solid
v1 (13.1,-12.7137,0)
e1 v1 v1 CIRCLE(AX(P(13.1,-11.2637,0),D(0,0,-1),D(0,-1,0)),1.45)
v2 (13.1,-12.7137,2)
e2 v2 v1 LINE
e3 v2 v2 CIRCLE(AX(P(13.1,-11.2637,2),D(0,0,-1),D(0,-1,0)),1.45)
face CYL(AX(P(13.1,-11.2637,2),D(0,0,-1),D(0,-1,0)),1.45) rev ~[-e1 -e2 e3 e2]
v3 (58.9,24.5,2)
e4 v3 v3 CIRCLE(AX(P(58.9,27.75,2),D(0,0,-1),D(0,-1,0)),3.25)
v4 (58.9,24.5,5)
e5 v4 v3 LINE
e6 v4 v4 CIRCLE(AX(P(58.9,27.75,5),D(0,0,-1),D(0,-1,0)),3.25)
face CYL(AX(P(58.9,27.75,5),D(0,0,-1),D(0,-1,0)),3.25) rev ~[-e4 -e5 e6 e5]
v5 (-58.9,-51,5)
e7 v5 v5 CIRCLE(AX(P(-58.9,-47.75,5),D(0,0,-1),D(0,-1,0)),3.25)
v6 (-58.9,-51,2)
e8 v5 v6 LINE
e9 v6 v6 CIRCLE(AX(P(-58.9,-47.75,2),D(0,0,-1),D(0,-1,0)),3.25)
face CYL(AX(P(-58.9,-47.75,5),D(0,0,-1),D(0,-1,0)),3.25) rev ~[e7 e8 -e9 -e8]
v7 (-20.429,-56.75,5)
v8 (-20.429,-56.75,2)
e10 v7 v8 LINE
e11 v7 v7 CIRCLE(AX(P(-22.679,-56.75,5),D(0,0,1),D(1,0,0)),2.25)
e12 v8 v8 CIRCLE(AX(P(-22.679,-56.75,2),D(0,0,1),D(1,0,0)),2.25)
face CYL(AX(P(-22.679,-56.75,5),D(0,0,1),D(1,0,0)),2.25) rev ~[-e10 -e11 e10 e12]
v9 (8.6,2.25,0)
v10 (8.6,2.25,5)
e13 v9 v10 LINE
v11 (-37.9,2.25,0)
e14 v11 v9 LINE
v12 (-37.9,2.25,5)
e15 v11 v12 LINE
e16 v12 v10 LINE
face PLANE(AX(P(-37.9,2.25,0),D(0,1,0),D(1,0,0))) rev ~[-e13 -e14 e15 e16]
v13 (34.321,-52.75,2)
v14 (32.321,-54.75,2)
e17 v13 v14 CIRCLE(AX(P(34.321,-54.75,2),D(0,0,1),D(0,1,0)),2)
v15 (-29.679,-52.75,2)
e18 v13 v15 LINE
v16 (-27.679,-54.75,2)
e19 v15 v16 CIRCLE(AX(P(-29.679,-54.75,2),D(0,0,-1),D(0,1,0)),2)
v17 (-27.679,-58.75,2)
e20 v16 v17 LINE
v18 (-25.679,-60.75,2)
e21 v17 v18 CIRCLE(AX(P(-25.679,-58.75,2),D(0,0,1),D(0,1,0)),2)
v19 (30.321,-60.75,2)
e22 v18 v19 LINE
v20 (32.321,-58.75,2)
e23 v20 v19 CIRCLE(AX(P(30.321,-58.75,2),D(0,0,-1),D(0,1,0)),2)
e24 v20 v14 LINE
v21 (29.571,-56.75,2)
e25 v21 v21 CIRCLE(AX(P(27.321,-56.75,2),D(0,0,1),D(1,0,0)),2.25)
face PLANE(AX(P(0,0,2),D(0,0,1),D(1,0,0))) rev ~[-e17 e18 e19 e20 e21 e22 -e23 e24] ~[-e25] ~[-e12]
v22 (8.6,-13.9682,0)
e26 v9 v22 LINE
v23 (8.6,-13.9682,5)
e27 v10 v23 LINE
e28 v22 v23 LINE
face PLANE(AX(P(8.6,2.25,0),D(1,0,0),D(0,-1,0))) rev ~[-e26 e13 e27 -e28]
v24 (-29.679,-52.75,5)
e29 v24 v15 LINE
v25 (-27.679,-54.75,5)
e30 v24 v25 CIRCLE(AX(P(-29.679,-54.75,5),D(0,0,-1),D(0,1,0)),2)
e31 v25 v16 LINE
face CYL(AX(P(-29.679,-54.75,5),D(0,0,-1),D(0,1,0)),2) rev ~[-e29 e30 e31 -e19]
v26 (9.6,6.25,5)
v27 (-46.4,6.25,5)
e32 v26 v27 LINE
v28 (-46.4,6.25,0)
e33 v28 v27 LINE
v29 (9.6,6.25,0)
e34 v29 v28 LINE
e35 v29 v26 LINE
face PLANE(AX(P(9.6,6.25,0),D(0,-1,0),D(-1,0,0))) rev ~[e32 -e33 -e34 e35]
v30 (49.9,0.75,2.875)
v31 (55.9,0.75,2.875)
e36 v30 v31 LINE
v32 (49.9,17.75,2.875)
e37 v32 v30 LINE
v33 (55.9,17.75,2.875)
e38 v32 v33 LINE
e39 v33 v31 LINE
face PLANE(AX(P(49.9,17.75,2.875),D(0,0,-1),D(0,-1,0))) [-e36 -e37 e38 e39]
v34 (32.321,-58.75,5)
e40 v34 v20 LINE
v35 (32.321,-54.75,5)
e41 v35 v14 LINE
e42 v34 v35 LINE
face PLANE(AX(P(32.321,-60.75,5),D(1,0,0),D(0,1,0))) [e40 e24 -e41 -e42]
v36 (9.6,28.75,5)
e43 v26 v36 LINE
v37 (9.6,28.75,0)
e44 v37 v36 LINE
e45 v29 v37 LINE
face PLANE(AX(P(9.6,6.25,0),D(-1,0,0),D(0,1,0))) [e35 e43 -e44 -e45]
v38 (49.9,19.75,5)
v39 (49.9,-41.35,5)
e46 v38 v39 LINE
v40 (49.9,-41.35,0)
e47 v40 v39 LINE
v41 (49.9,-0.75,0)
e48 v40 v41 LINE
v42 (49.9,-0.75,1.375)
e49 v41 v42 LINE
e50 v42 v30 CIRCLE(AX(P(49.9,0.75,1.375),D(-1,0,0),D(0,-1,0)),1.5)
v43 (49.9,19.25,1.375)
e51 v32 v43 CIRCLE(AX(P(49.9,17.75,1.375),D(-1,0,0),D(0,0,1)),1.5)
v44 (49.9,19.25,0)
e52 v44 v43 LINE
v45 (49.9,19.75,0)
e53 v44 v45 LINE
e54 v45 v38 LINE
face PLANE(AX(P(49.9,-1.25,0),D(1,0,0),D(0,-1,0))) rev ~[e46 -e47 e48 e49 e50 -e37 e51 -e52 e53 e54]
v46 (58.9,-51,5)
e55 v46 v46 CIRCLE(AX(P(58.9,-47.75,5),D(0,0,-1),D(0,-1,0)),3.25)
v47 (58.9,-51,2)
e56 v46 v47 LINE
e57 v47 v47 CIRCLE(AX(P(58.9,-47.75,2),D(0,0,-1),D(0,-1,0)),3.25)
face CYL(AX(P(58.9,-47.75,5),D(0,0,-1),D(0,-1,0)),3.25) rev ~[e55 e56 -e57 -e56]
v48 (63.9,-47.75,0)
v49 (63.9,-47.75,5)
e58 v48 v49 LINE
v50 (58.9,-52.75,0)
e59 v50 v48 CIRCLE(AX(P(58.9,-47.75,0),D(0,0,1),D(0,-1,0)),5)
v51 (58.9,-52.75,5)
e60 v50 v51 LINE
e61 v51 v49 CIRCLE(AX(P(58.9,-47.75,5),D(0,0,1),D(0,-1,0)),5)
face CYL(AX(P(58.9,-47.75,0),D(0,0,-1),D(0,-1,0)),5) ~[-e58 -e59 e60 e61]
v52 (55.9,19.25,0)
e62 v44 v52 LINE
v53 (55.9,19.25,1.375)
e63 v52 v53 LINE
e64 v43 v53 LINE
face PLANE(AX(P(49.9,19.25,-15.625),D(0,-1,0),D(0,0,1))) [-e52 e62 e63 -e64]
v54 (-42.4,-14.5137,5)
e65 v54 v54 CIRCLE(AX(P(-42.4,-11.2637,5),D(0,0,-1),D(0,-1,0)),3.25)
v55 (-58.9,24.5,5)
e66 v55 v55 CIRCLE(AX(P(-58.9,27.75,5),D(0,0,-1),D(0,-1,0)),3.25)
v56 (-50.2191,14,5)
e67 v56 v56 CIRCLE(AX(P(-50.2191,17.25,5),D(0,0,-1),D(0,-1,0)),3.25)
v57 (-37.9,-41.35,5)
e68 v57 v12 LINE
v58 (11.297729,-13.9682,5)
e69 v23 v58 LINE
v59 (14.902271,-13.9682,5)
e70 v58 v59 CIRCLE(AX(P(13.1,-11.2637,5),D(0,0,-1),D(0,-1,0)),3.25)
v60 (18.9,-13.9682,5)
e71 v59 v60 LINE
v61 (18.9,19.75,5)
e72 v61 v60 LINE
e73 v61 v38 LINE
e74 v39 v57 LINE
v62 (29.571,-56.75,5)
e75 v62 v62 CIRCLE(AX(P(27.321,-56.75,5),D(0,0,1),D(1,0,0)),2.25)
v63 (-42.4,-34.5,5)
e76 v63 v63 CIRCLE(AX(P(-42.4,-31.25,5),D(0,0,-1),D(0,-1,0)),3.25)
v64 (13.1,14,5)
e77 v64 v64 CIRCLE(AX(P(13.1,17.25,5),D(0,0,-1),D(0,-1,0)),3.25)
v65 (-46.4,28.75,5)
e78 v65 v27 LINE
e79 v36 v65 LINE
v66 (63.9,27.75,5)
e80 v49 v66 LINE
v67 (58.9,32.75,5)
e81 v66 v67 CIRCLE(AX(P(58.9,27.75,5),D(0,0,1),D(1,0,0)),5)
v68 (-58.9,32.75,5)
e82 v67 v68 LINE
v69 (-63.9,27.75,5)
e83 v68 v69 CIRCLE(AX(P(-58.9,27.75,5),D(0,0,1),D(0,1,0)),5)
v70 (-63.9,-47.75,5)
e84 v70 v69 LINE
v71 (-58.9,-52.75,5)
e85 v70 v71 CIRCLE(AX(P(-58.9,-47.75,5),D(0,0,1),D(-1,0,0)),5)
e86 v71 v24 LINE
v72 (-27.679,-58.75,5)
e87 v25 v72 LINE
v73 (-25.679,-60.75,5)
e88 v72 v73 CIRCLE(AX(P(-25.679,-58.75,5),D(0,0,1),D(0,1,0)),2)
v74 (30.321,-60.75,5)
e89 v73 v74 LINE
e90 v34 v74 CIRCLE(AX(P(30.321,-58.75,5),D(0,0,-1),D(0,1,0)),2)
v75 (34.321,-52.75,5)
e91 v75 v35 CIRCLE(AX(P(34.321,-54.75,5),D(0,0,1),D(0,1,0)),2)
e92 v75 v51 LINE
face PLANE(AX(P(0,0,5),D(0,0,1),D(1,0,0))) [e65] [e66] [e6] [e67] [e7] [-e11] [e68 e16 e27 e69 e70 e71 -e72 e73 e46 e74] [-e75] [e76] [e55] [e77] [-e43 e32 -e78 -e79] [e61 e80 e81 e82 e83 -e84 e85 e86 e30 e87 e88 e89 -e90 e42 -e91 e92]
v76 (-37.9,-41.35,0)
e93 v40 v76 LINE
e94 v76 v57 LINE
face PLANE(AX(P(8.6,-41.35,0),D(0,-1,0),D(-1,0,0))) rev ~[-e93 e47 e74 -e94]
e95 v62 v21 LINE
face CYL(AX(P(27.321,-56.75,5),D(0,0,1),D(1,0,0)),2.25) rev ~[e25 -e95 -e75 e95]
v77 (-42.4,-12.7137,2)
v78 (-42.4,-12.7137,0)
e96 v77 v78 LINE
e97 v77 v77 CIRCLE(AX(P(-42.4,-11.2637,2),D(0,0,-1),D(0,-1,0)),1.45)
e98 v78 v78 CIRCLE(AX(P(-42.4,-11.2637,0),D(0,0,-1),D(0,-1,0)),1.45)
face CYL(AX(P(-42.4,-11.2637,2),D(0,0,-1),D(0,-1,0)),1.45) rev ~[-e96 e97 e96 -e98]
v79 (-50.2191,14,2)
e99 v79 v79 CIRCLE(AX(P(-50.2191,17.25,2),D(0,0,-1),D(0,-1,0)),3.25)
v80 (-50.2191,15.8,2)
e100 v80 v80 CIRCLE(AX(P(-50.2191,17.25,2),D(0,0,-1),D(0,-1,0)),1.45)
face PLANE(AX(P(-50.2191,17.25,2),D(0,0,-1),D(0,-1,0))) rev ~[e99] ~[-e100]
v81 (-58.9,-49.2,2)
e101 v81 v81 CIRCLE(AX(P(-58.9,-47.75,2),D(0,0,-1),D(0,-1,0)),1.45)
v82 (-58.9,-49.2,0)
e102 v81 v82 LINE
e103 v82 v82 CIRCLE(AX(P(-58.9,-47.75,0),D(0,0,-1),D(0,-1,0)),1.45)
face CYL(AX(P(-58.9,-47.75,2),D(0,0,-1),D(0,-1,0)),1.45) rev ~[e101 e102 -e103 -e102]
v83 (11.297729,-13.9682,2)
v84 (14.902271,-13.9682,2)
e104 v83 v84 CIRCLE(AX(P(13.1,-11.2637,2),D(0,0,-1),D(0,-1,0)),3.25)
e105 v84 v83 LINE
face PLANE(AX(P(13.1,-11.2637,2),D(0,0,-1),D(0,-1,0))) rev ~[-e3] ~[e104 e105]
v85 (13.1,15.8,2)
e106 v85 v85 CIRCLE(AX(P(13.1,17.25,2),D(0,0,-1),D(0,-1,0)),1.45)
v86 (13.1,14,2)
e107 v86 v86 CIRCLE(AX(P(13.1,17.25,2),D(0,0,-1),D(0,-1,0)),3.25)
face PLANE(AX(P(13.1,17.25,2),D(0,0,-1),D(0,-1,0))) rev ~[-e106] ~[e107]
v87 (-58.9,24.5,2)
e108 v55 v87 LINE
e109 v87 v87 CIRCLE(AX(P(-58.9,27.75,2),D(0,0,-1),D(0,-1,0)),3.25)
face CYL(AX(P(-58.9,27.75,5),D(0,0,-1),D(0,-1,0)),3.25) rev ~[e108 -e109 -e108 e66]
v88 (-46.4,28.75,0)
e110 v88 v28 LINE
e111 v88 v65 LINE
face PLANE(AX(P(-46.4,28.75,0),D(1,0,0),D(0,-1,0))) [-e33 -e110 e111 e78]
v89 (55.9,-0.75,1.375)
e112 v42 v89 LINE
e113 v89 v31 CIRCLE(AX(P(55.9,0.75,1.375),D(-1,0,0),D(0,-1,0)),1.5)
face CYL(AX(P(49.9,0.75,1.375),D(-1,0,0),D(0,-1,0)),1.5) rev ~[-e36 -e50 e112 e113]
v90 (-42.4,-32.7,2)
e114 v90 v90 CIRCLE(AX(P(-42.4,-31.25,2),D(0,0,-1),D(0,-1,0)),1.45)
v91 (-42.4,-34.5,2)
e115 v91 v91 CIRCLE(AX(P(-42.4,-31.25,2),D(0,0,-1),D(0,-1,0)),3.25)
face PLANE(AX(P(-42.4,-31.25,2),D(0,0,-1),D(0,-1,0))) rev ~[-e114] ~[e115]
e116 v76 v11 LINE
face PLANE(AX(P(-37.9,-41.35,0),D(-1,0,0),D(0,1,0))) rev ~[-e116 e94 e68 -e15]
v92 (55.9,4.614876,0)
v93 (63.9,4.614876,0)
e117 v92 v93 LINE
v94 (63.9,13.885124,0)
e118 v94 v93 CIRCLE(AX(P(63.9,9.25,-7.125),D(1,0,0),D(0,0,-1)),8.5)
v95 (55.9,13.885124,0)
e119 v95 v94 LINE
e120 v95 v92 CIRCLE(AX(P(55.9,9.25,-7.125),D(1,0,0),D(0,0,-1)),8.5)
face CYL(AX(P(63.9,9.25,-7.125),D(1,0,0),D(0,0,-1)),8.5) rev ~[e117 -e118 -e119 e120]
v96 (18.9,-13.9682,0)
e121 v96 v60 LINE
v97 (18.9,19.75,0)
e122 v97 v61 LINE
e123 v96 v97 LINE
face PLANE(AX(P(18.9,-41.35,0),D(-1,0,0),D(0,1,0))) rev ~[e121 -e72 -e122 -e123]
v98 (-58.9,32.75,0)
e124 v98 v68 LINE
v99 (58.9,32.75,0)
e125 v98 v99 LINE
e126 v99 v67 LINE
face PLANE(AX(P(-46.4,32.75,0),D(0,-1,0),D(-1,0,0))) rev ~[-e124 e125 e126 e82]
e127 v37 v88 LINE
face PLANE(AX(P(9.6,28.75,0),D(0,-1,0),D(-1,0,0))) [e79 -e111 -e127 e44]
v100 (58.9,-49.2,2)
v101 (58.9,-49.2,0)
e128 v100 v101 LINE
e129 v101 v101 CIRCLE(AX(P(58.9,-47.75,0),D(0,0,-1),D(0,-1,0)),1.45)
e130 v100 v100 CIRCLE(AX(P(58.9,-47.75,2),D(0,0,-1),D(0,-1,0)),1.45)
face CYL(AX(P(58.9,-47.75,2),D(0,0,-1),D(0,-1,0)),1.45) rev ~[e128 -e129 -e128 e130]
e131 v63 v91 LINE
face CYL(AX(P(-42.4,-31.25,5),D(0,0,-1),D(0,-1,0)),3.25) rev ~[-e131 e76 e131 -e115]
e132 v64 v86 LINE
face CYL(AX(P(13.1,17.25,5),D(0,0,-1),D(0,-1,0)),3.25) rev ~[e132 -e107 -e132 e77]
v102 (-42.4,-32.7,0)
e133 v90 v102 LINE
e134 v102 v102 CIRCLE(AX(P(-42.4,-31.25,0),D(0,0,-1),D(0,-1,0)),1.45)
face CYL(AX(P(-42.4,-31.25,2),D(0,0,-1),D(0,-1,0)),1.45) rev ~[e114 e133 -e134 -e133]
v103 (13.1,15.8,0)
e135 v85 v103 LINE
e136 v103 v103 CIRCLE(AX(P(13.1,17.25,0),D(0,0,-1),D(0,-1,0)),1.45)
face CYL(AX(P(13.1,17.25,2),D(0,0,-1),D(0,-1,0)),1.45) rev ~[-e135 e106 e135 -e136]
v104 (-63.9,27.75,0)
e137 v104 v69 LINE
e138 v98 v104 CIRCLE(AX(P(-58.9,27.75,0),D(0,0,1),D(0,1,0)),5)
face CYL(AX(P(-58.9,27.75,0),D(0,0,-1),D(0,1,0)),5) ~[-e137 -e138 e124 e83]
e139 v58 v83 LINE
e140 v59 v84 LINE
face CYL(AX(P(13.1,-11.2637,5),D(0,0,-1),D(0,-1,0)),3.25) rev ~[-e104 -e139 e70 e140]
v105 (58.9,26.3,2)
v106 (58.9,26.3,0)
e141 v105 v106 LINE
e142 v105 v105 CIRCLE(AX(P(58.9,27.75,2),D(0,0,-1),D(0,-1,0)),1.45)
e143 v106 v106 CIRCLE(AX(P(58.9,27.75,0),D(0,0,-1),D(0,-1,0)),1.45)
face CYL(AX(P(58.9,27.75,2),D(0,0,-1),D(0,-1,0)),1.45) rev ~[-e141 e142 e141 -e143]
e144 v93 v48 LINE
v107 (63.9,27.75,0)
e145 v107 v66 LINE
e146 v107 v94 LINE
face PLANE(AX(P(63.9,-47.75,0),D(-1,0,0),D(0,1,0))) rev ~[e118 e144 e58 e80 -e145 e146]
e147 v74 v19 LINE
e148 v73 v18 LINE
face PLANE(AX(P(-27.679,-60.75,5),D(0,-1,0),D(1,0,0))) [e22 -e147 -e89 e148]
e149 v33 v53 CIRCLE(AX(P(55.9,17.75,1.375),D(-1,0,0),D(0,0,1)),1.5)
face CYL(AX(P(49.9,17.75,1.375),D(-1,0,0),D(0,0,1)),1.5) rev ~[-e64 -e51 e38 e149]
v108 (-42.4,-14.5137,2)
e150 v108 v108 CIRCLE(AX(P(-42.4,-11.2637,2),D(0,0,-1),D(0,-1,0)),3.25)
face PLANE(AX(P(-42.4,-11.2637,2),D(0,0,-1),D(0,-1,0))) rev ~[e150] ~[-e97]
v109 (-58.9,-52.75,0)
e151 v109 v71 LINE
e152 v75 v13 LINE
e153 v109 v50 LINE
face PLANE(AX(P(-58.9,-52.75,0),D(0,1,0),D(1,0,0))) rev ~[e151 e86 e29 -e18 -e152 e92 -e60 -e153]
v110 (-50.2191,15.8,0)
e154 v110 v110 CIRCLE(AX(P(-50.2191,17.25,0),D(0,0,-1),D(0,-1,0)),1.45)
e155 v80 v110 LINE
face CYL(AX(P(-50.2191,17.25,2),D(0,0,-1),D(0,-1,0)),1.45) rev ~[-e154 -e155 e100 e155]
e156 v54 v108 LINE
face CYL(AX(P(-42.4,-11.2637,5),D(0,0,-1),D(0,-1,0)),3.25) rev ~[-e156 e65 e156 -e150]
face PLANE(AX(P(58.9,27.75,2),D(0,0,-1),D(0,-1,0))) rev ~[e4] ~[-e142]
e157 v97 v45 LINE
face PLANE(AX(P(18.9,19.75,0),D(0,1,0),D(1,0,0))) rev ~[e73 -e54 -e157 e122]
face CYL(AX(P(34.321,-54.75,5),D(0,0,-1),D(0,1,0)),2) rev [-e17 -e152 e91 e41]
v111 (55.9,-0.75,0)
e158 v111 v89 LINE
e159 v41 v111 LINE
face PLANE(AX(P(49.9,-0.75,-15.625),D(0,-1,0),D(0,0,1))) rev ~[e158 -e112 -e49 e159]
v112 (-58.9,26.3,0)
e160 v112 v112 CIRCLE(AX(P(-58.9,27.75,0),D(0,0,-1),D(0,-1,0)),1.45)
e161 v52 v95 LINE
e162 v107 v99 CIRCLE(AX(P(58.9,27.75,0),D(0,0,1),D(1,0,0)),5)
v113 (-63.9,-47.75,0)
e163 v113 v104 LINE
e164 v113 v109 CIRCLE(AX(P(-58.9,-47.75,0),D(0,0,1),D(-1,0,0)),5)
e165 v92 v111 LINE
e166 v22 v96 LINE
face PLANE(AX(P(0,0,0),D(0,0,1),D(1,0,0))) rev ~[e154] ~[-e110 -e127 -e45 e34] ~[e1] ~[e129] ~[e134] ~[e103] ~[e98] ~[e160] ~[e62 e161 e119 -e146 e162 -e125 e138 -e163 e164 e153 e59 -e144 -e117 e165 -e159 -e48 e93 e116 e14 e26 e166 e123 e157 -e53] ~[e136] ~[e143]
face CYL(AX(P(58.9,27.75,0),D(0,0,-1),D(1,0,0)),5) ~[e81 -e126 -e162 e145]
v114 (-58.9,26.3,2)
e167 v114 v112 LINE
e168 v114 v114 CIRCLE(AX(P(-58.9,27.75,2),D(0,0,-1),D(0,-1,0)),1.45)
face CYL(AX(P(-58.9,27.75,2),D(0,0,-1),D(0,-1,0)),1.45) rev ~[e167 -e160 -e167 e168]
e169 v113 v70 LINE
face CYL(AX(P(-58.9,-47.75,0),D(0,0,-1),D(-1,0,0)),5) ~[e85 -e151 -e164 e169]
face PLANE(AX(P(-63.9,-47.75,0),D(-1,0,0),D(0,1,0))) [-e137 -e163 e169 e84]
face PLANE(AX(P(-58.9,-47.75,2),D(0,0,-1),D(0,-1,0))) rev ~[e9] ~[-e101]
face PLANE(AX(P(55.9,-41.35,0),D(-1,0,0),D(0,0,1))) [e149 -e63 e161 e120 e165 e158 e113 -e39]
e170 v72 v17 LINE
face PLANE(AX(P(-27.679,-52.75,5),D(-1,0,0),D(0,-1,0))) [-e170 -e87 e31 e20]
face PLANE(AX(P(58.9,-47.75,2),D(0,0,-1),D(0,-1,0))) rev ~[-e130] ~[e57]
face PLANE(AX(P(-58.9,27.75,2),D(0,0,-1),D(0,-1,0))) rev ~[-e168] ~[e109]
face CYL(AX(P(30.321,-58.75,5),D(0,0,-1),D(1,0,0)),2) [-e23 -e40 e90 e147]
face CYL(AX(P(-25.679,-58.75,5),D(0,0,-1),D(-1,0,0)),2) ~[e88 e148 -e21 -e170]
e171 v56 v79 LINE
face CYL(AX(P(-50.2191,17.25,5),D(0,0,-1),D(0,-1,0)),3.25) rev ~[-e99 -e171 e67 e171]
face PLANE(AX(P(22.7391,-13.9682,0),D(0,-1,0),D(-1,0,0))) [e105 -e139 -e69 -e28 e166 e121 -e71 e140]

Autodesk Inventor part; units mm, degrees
ref_plane "YZ Plane" through (0, 0, 0) normal (1, 0, 0) x (0, 1, 0)
ref_plane "XZ Plane" through (0, 0, 0) normal (0, 1, 0) x (-1, 0, 0)
ref_plane "Arbeitsebene1" through (0, 0, 0) normal (0, 0, 1) x (1, 0, 0)
sketch "Skizze1" plane through (0, 0, 0) normal (0, 0, 1) x (1, 0, 0)
  line L0 (8.6, 2.25) -> (8.6, -41.35) projected
  line L1 (8.6, -41.35) -> (-37.9, -41.35) projected
  line L2 (-37.9, -41.35) -> (-37.9, 2.25) projected
  line L3 (-37.9, 2.25) -> (8.6, 2.25) projected
  line L4 (9.6, 6.25) -> (-46.4, 6.25) projected
  line L5 (-46.4, 32.25) -> (-46.4, 6.25) projected
  line L6 (9.6, 32.25) -> (-46.4, 32.25) projected
  line L7 (9.6, 6.25) -> (9.6, 32.25) projected
  circle A0 centre (13.1, -11.2637) radius 1.4 projected
  circle A1 centre (-42.4, -11.2637) radius 1.4 projected
  circle A2 centre (-42.4, -31.25) radius 1.4 projected
  line L8 (18.9, -41.35) -> (18.9, 19.75) projected
  line L9 (18.9, 19.75) -> (58.9, 19.75) projected
  line L10 (58.9, 19.75) -> (58.9, 19.25) projected
  line L11 (58.9, 19.25) -> (55.9, 19.25) projected
  line L12 (55.9, 17.6031) -> (55.9, 19.25) projected
  line L13 (63.9, 17.6031) -> (55.9, 17.6031) projected
  line L14 (63.9, 27.75) -> (63.9, 17.6031) projected
  arc A3 (63.9, 27.75) -> (58.9, 32.75) centre (58.9, 27.75) ccw projected
  line L15 (58.9, 32.75) -> (-58.9, 32.75) projected
  arc A4 (-58.9, 32.75) -> (-63.9, 27.75) centre (-58.9, 27.75) ccw projected
  line L16 (-63.9, -47.75) -> (-63.9, 27.75) projected
  arc A5 (-63.9, -47.75) -> (-58.9, -52.75) centre (-58.9, -47.75) ccw projected
  line L17 (-58.9, -52.75) -> (58.9, -52.75) projected
  arc A6 (58.9, -52.75) -> (63.9, -47.75) centre (58.9, -47.75) ccw projected
  line L18 (63.9, -47.75) -> (63.9, 0.8969) projected
  line L19 (55.9, 0.8969) -> (63.9, 0.8969) projected
  line L20 (55.9, -0.75) -> (55.9, 0.8969) projected
  line L21 (58.9, -0.75) -> (55.9, -0.75) projected
  line L22 (58.9, -0.75) -> (58.9, -1.25) projected
  line L23 (58.9, -1.25) -> (49.9, -1.25) projected
  line L24 (49.9, -1.25) -> (49.9, -41.35) projected
  line L25 (49.9, -41.35) -> (18.9, -41.35) projected
  circle A7 centre (13.1, 17.25) radius 1.4 projected
  circle A8 centre (-50.2191, 17.25) radius 1.4 projected
  line L26 (63.9, 17.6031) -> (63.9, 0.8969)
  line L27 (49.9, -1.25) -> (49.9, 19.75)
  line L28 (18.9, 6.25) -> (9.6, 6.25)
  line L29 (9.6, 6.25) -> (9.6, 2.25)
  line L30 (9.6, 2.25) -> (8.6, 2.25)
  line L31 (-37.9, 2.25) -> (-46.4, 2.25)
  line L32 (-46.4, 2.25) -> (-46.4, 6.25)
  line L33 (9.6, 32.25) -> (9.6, 32.75)
  line L34 (-46.4, 32.25) -> (-46.4, 32.75)
  circle A9 centre (58.9, 27.75) radius 1.4
  circle A10 centre (58.9, -47.75) radius 1.4
  circle A11 centre (-58.9, -47.75) radius 1.4
  circle A12 centre (-58.9, 27.75) radius 1.4
  line L35 (-46.4, 32.75) -> (9.6, 32.75)
  line L36 (9.6, 32.75) -> (9.6, 28.75)
  line L37 (9.6, 28.75) -> (-46.4, 28.75)
  line L38 (-46.4, 28.75) -> (-46.4, 32.75)
  point P0 (0, 0)
  point P1 (-46.4, 28.75)
  dimension "d0" = 2.8
  dimension "d1" = 2.8
  dimension "d2" = 2.8
  dimension "d3" = 2.8
  dimension "d29" = 4
extrude "Extrusion1" add sketch "Skizze1" along normal blind 5 contours L30 L29 L28 L8 L25 L24 L23 L22 L21 L20 L19 L18 A6 L17 A5 L16 A4 L15 L34 L5 L32 L31 L2 L1 L0 | L3 L31 L32 L4 L29 L30 | L7 L33 L15 A3 L14 L13 L12 L11 L10 L9 L8 L28 | L37 L5 L6 L7 | L6 L34 L15 L33 | L9 L10 L11 L12 L13 L26 L19 L20 L21 L22 L23 L27
sketch "Skizze2" plane through (0, 0, 5) normal (0, 0, 1) x (1, 0, 0)
  line L0 (-58.9, -52.75) -> (58.9, -52.75) projected
  line L1 (32.321, -52.75) -> (-27.679, -52.75)
  line L2 (-27.679, -52.75) -> (-27.679, -60.75)
  line L3 (-27.679, -60.75) -> (32.321, -60.75)
  line L4 (32.321, -60.75) -> (32.321, -52.75)
  circle A0 centre (27.321, -56.75) radius 2.25
  circle A1 centre (-22.679, -56.75) radius 2.25
  point P0 (0, 0)
  dimension "d6" = 60
  dimension "d7" = 8
  dimension "d8" = 4.5
  dimension "d9" = 4.5
  dimension "d10" = 5
  dimension "d11" = 50
extrude "Extrusion2" add sketch "Skizze2" against normal blind 3
fillet "Rundung1" radius 2 4 edges at (32.321, -60.75, 3.5) (32.321, -52.75, 3.5) (-27.679, -52.75, 3.5) (-27.679, -60.75, 3.5)
sketch "Skizze3" plane through (0, 0, 5) normal (0, 0, 1) x (1, 0, 0)
  arc A0 (-27.679, -58.75) -> (-25.679, -60.75) centre (-25.679, -58.75) ccw projected
  line L0 (-25.679, -60.75) -> (30.321, -60.75) projected
  arc A1 (30.321, -60.75) -> (32.321, -58.75) centre (30.321, -58.75) ccw projected
  line L1 (32.321, -58.75) -> (32.321, -54.75) projected
  arc A2 (34.321, -52.75) -> (32.321, -54.75) centre (34.321, -54.75) ccw projected
  line L2 (34.321, -52.75) -> (58.9, -52.75) projected
  arc A3 (58.9, -52.75) -> (63.9, -47.75) centre (58.9, -47.75) ccw projected
  line L3 (63.9, -47.75) -> (63.9, 27.75) projected
  arc A4 (63.9, 27.75) -> (58.9, 32.75) centre (58.9, 27.75) ccw projected
  line L4 (58.9, 32.75) -> (-58.9, 32.75) projected
  line L5 (9.6, 28.75) -> (9.6, 6.25) projected
  line L6 (9.6, 6.25) -> (-46.4, 6.25) projected
  line L7 (-46.4, 6.25) -> (-46.4, 28.75) projected
  arc A5 (-58.9, 32.75) -> (-63.9, 27.75) centre (-58.9, 27.75) ccw projected
  line L8 (-63.9, 27.75) -> (-63.9, -47.75) projected
  arc A6 (-63.9, -47.75) -> (-58.9, -52.75) centre (-58.9, -47.75) ccw projected
  line L9 (-58.9, -52.75) -> (-29.679, -52.75) projected
  arc A7 (-27.679, -54.75) -> (-29.679, -52.75) centre (-29.679, -54.75) ccw projected
  line L10 (-27.679, -54.75) -> (-27.679, -58.75) projected
  circle A8 centre (13.1, 17.25) radius 1.4 projected
  circle A9 centre (58.9, 27.75) radius 1.4 projected
  circle A10 centre (13.1, -11.2637) radius 1.4 projected
  circle A11 centre (-42.4, -11.2637) radius 1.4 projected
  circle A12 centre (-42.4, -31.25) radius 1.4 projected
  circle A13 centre (-50.2191, 17.25) radius 1.4 projected
  circle A14 centre (-58.9, 27.75) radius 1.4 projected
  circle A15 centre (-58.9, -47.75) radius 1.4 projected
  circle A16 centre (58.9, -47.75) radius 1.4 projected
  line L11 (8.6, 2.25) -> (8.6, -41.35) projected
  line L12 (8.6, -41.35) -> (-37.9, -41.35) projected
  line L13 (-37.9, -41.35) -> (-37.9, 2.25) projected
  line L14 (-37.9, 2.25) -> (8.6, 2.25) projected
  line L15 (18.9, -41.35) -> (18.9, 19.75) projected
  line L16 (18.9, 19.75) -> (49.9, 19.75) projected
  line L17 (49.9, 19.75) -> (49.9, -41.35) projected
  line L18 (49.9, -41.35) -> (18.9, -41.35) projected
  circle A17 centre (-22.679, -56.75) radius 2.25 projected
  circle A18 centre (27.321, -56.75) radius 2.25 projected
  line L19 (-46.4, 28.75) -> (9.6, 28.75) projected
  point P0 (0, 0)
hole "Bohrung1" at (58.9, -47.75, 5) at (-58.9, -47.75, 5) at (-42.4, -31.25, 5) at (-42.4, -11.2637, 5) at (-50.2191, 17.25, 5) at (-58.9, 27.75, 5) at (13.1, -11.2637, 5) at (13.1, 17.25, 5) at (58.9, 27.75, 5) direction (0, 0, -1) diameter 2.9 end through all counterbore diameter 6.5 counterbore depth 3
ref_plane "Arbeitsebene2" through (55.9, -6.9963, -17.125) normal (-1, 0, 0) x (0, 0, 1)
sketch "Skizze4" plane through (49.9, -41.35, 0) normal (-1, 0, 0) x (0, 0, 1)
  line L0 (-10, 60) -> (0, 60)
  line L1 (-15.625, 40.6) -> (5, 40.6) projected
  line L2 (-17.125, 59.1) -> (-17.125, 42.1) projected
  line L3 (1.375, 40.6) -> (-15.625, 40.6)
  line L4 (-17.125, 42.1) -> (-17.125, 59.1)
  line L5 (-15.625, 60.6) -> (1.375, 60.6)
  line L6 (2.875, 59.1) -> (2.875, 42.1)
  line L7 (2.875, 40.6) -> (-17.125, 60.6) construction
  line L8 (-17.125, 40.6) -> (2.875, 60.6) construction
  arc A0 (-15.625, 60.6) -> (-17.125, 59.1) centre (-15.625, 59.1) ccw
  arc A1 (2.875, 59.1) -> (1.375, 60.6) centre (1.375, 59.1) ccw
  arc A2 (1.375, 40.6) -> (2.875, 42.1) centre (1.375, 42.1) ccw
  arc A3 (-17.125, 42.1) -> (-15.625, 40.6) centre (-15.625, 42.1) ccw
  arc A4 (-9, 49.9344) -> (-9, 51.2656) centre (-7.125, 50.6) ccw projected
  point P0 (0, 41.35)
  point P1 (-7.125, 50.6)
  point P2 (1.375, 40.6)
  dimension "d22" = 20
  dimension "d23" = 20
  dimension "d24" = 1.5
extrude "Extrusion3" cut sketch "Skizze4" against normal up to surface (6 mm away)
sketch "Skizze5" plane through (0, 0, 0) normal (0, 0, -1) x (-1, 0, 0)
  line L0 (-7.5796, -1.2774) -> (-17.8796, -1.2774) projected
  line L1 (38.1796, -41.35) -> (-32.748, -41.35) projected
  line L2 (-8.6, 2.25) -> (-8.6, -41.35) projected
  line L3 (-8.6, -41.35) -> (-18.6204, -41.35)
  line L4 (-7.5796, -1.2774) -> (-8.6, -1.2774)
  line L5 (-8.6, -1.2774) -> (-8.6, -41.35)
  line L6 (-18.6204, -41.35) -> (-21.2999, -41.35)
  line L7 (-21.2999, -41.35) -> (-21.2999, -21.25)
  line L8 (-21.2999, -21.25) -> (-18.6204, -21.25)
  line L9 (-49.6204, -13.9682) -> (-10.3204, -13.9682) projected
  line L10 (-8.6, 2.25) -> (-8.6, -41.35) projected
  line L11 (-8.6, -41.35) -> (-22.7391, -41.35)
  line L12 (-22.7391, -41.35) -> (-22.7391, -13.9682)
  line L13 (-22.7391, -13.9682) -> (-8.6, -13.9682)
  line L14 (-8.6, -13.9682) -> (-8.6, -41.35)
  point P0 (0, 0)
  point P1 (-8.6, -1.2774)
  point P2 (-8.6, -13.9682)
  point P3 (-22.7391, -13.9682)
extrude "Extrusion4" cut sketch "Skizze5" against normal blind 10
sketch "Skizze6" plane through (63.9, -47.75, 0) normal (1, 0, 0) x (0, 0, -1)
  arc A0 (3.0459, 50.3516) -> (3.0459, 63.6484) centre (7.125, 57) ccw projected
  circle A1 centre (7.125, 57) radius 8.5
  point P0 (0, 47.75)
  dimension "d30" = 17
extrude "Extrusion5" cut sketch "Skizze6" against normal blind 20
properties part number "11_Wellplatespacer"
